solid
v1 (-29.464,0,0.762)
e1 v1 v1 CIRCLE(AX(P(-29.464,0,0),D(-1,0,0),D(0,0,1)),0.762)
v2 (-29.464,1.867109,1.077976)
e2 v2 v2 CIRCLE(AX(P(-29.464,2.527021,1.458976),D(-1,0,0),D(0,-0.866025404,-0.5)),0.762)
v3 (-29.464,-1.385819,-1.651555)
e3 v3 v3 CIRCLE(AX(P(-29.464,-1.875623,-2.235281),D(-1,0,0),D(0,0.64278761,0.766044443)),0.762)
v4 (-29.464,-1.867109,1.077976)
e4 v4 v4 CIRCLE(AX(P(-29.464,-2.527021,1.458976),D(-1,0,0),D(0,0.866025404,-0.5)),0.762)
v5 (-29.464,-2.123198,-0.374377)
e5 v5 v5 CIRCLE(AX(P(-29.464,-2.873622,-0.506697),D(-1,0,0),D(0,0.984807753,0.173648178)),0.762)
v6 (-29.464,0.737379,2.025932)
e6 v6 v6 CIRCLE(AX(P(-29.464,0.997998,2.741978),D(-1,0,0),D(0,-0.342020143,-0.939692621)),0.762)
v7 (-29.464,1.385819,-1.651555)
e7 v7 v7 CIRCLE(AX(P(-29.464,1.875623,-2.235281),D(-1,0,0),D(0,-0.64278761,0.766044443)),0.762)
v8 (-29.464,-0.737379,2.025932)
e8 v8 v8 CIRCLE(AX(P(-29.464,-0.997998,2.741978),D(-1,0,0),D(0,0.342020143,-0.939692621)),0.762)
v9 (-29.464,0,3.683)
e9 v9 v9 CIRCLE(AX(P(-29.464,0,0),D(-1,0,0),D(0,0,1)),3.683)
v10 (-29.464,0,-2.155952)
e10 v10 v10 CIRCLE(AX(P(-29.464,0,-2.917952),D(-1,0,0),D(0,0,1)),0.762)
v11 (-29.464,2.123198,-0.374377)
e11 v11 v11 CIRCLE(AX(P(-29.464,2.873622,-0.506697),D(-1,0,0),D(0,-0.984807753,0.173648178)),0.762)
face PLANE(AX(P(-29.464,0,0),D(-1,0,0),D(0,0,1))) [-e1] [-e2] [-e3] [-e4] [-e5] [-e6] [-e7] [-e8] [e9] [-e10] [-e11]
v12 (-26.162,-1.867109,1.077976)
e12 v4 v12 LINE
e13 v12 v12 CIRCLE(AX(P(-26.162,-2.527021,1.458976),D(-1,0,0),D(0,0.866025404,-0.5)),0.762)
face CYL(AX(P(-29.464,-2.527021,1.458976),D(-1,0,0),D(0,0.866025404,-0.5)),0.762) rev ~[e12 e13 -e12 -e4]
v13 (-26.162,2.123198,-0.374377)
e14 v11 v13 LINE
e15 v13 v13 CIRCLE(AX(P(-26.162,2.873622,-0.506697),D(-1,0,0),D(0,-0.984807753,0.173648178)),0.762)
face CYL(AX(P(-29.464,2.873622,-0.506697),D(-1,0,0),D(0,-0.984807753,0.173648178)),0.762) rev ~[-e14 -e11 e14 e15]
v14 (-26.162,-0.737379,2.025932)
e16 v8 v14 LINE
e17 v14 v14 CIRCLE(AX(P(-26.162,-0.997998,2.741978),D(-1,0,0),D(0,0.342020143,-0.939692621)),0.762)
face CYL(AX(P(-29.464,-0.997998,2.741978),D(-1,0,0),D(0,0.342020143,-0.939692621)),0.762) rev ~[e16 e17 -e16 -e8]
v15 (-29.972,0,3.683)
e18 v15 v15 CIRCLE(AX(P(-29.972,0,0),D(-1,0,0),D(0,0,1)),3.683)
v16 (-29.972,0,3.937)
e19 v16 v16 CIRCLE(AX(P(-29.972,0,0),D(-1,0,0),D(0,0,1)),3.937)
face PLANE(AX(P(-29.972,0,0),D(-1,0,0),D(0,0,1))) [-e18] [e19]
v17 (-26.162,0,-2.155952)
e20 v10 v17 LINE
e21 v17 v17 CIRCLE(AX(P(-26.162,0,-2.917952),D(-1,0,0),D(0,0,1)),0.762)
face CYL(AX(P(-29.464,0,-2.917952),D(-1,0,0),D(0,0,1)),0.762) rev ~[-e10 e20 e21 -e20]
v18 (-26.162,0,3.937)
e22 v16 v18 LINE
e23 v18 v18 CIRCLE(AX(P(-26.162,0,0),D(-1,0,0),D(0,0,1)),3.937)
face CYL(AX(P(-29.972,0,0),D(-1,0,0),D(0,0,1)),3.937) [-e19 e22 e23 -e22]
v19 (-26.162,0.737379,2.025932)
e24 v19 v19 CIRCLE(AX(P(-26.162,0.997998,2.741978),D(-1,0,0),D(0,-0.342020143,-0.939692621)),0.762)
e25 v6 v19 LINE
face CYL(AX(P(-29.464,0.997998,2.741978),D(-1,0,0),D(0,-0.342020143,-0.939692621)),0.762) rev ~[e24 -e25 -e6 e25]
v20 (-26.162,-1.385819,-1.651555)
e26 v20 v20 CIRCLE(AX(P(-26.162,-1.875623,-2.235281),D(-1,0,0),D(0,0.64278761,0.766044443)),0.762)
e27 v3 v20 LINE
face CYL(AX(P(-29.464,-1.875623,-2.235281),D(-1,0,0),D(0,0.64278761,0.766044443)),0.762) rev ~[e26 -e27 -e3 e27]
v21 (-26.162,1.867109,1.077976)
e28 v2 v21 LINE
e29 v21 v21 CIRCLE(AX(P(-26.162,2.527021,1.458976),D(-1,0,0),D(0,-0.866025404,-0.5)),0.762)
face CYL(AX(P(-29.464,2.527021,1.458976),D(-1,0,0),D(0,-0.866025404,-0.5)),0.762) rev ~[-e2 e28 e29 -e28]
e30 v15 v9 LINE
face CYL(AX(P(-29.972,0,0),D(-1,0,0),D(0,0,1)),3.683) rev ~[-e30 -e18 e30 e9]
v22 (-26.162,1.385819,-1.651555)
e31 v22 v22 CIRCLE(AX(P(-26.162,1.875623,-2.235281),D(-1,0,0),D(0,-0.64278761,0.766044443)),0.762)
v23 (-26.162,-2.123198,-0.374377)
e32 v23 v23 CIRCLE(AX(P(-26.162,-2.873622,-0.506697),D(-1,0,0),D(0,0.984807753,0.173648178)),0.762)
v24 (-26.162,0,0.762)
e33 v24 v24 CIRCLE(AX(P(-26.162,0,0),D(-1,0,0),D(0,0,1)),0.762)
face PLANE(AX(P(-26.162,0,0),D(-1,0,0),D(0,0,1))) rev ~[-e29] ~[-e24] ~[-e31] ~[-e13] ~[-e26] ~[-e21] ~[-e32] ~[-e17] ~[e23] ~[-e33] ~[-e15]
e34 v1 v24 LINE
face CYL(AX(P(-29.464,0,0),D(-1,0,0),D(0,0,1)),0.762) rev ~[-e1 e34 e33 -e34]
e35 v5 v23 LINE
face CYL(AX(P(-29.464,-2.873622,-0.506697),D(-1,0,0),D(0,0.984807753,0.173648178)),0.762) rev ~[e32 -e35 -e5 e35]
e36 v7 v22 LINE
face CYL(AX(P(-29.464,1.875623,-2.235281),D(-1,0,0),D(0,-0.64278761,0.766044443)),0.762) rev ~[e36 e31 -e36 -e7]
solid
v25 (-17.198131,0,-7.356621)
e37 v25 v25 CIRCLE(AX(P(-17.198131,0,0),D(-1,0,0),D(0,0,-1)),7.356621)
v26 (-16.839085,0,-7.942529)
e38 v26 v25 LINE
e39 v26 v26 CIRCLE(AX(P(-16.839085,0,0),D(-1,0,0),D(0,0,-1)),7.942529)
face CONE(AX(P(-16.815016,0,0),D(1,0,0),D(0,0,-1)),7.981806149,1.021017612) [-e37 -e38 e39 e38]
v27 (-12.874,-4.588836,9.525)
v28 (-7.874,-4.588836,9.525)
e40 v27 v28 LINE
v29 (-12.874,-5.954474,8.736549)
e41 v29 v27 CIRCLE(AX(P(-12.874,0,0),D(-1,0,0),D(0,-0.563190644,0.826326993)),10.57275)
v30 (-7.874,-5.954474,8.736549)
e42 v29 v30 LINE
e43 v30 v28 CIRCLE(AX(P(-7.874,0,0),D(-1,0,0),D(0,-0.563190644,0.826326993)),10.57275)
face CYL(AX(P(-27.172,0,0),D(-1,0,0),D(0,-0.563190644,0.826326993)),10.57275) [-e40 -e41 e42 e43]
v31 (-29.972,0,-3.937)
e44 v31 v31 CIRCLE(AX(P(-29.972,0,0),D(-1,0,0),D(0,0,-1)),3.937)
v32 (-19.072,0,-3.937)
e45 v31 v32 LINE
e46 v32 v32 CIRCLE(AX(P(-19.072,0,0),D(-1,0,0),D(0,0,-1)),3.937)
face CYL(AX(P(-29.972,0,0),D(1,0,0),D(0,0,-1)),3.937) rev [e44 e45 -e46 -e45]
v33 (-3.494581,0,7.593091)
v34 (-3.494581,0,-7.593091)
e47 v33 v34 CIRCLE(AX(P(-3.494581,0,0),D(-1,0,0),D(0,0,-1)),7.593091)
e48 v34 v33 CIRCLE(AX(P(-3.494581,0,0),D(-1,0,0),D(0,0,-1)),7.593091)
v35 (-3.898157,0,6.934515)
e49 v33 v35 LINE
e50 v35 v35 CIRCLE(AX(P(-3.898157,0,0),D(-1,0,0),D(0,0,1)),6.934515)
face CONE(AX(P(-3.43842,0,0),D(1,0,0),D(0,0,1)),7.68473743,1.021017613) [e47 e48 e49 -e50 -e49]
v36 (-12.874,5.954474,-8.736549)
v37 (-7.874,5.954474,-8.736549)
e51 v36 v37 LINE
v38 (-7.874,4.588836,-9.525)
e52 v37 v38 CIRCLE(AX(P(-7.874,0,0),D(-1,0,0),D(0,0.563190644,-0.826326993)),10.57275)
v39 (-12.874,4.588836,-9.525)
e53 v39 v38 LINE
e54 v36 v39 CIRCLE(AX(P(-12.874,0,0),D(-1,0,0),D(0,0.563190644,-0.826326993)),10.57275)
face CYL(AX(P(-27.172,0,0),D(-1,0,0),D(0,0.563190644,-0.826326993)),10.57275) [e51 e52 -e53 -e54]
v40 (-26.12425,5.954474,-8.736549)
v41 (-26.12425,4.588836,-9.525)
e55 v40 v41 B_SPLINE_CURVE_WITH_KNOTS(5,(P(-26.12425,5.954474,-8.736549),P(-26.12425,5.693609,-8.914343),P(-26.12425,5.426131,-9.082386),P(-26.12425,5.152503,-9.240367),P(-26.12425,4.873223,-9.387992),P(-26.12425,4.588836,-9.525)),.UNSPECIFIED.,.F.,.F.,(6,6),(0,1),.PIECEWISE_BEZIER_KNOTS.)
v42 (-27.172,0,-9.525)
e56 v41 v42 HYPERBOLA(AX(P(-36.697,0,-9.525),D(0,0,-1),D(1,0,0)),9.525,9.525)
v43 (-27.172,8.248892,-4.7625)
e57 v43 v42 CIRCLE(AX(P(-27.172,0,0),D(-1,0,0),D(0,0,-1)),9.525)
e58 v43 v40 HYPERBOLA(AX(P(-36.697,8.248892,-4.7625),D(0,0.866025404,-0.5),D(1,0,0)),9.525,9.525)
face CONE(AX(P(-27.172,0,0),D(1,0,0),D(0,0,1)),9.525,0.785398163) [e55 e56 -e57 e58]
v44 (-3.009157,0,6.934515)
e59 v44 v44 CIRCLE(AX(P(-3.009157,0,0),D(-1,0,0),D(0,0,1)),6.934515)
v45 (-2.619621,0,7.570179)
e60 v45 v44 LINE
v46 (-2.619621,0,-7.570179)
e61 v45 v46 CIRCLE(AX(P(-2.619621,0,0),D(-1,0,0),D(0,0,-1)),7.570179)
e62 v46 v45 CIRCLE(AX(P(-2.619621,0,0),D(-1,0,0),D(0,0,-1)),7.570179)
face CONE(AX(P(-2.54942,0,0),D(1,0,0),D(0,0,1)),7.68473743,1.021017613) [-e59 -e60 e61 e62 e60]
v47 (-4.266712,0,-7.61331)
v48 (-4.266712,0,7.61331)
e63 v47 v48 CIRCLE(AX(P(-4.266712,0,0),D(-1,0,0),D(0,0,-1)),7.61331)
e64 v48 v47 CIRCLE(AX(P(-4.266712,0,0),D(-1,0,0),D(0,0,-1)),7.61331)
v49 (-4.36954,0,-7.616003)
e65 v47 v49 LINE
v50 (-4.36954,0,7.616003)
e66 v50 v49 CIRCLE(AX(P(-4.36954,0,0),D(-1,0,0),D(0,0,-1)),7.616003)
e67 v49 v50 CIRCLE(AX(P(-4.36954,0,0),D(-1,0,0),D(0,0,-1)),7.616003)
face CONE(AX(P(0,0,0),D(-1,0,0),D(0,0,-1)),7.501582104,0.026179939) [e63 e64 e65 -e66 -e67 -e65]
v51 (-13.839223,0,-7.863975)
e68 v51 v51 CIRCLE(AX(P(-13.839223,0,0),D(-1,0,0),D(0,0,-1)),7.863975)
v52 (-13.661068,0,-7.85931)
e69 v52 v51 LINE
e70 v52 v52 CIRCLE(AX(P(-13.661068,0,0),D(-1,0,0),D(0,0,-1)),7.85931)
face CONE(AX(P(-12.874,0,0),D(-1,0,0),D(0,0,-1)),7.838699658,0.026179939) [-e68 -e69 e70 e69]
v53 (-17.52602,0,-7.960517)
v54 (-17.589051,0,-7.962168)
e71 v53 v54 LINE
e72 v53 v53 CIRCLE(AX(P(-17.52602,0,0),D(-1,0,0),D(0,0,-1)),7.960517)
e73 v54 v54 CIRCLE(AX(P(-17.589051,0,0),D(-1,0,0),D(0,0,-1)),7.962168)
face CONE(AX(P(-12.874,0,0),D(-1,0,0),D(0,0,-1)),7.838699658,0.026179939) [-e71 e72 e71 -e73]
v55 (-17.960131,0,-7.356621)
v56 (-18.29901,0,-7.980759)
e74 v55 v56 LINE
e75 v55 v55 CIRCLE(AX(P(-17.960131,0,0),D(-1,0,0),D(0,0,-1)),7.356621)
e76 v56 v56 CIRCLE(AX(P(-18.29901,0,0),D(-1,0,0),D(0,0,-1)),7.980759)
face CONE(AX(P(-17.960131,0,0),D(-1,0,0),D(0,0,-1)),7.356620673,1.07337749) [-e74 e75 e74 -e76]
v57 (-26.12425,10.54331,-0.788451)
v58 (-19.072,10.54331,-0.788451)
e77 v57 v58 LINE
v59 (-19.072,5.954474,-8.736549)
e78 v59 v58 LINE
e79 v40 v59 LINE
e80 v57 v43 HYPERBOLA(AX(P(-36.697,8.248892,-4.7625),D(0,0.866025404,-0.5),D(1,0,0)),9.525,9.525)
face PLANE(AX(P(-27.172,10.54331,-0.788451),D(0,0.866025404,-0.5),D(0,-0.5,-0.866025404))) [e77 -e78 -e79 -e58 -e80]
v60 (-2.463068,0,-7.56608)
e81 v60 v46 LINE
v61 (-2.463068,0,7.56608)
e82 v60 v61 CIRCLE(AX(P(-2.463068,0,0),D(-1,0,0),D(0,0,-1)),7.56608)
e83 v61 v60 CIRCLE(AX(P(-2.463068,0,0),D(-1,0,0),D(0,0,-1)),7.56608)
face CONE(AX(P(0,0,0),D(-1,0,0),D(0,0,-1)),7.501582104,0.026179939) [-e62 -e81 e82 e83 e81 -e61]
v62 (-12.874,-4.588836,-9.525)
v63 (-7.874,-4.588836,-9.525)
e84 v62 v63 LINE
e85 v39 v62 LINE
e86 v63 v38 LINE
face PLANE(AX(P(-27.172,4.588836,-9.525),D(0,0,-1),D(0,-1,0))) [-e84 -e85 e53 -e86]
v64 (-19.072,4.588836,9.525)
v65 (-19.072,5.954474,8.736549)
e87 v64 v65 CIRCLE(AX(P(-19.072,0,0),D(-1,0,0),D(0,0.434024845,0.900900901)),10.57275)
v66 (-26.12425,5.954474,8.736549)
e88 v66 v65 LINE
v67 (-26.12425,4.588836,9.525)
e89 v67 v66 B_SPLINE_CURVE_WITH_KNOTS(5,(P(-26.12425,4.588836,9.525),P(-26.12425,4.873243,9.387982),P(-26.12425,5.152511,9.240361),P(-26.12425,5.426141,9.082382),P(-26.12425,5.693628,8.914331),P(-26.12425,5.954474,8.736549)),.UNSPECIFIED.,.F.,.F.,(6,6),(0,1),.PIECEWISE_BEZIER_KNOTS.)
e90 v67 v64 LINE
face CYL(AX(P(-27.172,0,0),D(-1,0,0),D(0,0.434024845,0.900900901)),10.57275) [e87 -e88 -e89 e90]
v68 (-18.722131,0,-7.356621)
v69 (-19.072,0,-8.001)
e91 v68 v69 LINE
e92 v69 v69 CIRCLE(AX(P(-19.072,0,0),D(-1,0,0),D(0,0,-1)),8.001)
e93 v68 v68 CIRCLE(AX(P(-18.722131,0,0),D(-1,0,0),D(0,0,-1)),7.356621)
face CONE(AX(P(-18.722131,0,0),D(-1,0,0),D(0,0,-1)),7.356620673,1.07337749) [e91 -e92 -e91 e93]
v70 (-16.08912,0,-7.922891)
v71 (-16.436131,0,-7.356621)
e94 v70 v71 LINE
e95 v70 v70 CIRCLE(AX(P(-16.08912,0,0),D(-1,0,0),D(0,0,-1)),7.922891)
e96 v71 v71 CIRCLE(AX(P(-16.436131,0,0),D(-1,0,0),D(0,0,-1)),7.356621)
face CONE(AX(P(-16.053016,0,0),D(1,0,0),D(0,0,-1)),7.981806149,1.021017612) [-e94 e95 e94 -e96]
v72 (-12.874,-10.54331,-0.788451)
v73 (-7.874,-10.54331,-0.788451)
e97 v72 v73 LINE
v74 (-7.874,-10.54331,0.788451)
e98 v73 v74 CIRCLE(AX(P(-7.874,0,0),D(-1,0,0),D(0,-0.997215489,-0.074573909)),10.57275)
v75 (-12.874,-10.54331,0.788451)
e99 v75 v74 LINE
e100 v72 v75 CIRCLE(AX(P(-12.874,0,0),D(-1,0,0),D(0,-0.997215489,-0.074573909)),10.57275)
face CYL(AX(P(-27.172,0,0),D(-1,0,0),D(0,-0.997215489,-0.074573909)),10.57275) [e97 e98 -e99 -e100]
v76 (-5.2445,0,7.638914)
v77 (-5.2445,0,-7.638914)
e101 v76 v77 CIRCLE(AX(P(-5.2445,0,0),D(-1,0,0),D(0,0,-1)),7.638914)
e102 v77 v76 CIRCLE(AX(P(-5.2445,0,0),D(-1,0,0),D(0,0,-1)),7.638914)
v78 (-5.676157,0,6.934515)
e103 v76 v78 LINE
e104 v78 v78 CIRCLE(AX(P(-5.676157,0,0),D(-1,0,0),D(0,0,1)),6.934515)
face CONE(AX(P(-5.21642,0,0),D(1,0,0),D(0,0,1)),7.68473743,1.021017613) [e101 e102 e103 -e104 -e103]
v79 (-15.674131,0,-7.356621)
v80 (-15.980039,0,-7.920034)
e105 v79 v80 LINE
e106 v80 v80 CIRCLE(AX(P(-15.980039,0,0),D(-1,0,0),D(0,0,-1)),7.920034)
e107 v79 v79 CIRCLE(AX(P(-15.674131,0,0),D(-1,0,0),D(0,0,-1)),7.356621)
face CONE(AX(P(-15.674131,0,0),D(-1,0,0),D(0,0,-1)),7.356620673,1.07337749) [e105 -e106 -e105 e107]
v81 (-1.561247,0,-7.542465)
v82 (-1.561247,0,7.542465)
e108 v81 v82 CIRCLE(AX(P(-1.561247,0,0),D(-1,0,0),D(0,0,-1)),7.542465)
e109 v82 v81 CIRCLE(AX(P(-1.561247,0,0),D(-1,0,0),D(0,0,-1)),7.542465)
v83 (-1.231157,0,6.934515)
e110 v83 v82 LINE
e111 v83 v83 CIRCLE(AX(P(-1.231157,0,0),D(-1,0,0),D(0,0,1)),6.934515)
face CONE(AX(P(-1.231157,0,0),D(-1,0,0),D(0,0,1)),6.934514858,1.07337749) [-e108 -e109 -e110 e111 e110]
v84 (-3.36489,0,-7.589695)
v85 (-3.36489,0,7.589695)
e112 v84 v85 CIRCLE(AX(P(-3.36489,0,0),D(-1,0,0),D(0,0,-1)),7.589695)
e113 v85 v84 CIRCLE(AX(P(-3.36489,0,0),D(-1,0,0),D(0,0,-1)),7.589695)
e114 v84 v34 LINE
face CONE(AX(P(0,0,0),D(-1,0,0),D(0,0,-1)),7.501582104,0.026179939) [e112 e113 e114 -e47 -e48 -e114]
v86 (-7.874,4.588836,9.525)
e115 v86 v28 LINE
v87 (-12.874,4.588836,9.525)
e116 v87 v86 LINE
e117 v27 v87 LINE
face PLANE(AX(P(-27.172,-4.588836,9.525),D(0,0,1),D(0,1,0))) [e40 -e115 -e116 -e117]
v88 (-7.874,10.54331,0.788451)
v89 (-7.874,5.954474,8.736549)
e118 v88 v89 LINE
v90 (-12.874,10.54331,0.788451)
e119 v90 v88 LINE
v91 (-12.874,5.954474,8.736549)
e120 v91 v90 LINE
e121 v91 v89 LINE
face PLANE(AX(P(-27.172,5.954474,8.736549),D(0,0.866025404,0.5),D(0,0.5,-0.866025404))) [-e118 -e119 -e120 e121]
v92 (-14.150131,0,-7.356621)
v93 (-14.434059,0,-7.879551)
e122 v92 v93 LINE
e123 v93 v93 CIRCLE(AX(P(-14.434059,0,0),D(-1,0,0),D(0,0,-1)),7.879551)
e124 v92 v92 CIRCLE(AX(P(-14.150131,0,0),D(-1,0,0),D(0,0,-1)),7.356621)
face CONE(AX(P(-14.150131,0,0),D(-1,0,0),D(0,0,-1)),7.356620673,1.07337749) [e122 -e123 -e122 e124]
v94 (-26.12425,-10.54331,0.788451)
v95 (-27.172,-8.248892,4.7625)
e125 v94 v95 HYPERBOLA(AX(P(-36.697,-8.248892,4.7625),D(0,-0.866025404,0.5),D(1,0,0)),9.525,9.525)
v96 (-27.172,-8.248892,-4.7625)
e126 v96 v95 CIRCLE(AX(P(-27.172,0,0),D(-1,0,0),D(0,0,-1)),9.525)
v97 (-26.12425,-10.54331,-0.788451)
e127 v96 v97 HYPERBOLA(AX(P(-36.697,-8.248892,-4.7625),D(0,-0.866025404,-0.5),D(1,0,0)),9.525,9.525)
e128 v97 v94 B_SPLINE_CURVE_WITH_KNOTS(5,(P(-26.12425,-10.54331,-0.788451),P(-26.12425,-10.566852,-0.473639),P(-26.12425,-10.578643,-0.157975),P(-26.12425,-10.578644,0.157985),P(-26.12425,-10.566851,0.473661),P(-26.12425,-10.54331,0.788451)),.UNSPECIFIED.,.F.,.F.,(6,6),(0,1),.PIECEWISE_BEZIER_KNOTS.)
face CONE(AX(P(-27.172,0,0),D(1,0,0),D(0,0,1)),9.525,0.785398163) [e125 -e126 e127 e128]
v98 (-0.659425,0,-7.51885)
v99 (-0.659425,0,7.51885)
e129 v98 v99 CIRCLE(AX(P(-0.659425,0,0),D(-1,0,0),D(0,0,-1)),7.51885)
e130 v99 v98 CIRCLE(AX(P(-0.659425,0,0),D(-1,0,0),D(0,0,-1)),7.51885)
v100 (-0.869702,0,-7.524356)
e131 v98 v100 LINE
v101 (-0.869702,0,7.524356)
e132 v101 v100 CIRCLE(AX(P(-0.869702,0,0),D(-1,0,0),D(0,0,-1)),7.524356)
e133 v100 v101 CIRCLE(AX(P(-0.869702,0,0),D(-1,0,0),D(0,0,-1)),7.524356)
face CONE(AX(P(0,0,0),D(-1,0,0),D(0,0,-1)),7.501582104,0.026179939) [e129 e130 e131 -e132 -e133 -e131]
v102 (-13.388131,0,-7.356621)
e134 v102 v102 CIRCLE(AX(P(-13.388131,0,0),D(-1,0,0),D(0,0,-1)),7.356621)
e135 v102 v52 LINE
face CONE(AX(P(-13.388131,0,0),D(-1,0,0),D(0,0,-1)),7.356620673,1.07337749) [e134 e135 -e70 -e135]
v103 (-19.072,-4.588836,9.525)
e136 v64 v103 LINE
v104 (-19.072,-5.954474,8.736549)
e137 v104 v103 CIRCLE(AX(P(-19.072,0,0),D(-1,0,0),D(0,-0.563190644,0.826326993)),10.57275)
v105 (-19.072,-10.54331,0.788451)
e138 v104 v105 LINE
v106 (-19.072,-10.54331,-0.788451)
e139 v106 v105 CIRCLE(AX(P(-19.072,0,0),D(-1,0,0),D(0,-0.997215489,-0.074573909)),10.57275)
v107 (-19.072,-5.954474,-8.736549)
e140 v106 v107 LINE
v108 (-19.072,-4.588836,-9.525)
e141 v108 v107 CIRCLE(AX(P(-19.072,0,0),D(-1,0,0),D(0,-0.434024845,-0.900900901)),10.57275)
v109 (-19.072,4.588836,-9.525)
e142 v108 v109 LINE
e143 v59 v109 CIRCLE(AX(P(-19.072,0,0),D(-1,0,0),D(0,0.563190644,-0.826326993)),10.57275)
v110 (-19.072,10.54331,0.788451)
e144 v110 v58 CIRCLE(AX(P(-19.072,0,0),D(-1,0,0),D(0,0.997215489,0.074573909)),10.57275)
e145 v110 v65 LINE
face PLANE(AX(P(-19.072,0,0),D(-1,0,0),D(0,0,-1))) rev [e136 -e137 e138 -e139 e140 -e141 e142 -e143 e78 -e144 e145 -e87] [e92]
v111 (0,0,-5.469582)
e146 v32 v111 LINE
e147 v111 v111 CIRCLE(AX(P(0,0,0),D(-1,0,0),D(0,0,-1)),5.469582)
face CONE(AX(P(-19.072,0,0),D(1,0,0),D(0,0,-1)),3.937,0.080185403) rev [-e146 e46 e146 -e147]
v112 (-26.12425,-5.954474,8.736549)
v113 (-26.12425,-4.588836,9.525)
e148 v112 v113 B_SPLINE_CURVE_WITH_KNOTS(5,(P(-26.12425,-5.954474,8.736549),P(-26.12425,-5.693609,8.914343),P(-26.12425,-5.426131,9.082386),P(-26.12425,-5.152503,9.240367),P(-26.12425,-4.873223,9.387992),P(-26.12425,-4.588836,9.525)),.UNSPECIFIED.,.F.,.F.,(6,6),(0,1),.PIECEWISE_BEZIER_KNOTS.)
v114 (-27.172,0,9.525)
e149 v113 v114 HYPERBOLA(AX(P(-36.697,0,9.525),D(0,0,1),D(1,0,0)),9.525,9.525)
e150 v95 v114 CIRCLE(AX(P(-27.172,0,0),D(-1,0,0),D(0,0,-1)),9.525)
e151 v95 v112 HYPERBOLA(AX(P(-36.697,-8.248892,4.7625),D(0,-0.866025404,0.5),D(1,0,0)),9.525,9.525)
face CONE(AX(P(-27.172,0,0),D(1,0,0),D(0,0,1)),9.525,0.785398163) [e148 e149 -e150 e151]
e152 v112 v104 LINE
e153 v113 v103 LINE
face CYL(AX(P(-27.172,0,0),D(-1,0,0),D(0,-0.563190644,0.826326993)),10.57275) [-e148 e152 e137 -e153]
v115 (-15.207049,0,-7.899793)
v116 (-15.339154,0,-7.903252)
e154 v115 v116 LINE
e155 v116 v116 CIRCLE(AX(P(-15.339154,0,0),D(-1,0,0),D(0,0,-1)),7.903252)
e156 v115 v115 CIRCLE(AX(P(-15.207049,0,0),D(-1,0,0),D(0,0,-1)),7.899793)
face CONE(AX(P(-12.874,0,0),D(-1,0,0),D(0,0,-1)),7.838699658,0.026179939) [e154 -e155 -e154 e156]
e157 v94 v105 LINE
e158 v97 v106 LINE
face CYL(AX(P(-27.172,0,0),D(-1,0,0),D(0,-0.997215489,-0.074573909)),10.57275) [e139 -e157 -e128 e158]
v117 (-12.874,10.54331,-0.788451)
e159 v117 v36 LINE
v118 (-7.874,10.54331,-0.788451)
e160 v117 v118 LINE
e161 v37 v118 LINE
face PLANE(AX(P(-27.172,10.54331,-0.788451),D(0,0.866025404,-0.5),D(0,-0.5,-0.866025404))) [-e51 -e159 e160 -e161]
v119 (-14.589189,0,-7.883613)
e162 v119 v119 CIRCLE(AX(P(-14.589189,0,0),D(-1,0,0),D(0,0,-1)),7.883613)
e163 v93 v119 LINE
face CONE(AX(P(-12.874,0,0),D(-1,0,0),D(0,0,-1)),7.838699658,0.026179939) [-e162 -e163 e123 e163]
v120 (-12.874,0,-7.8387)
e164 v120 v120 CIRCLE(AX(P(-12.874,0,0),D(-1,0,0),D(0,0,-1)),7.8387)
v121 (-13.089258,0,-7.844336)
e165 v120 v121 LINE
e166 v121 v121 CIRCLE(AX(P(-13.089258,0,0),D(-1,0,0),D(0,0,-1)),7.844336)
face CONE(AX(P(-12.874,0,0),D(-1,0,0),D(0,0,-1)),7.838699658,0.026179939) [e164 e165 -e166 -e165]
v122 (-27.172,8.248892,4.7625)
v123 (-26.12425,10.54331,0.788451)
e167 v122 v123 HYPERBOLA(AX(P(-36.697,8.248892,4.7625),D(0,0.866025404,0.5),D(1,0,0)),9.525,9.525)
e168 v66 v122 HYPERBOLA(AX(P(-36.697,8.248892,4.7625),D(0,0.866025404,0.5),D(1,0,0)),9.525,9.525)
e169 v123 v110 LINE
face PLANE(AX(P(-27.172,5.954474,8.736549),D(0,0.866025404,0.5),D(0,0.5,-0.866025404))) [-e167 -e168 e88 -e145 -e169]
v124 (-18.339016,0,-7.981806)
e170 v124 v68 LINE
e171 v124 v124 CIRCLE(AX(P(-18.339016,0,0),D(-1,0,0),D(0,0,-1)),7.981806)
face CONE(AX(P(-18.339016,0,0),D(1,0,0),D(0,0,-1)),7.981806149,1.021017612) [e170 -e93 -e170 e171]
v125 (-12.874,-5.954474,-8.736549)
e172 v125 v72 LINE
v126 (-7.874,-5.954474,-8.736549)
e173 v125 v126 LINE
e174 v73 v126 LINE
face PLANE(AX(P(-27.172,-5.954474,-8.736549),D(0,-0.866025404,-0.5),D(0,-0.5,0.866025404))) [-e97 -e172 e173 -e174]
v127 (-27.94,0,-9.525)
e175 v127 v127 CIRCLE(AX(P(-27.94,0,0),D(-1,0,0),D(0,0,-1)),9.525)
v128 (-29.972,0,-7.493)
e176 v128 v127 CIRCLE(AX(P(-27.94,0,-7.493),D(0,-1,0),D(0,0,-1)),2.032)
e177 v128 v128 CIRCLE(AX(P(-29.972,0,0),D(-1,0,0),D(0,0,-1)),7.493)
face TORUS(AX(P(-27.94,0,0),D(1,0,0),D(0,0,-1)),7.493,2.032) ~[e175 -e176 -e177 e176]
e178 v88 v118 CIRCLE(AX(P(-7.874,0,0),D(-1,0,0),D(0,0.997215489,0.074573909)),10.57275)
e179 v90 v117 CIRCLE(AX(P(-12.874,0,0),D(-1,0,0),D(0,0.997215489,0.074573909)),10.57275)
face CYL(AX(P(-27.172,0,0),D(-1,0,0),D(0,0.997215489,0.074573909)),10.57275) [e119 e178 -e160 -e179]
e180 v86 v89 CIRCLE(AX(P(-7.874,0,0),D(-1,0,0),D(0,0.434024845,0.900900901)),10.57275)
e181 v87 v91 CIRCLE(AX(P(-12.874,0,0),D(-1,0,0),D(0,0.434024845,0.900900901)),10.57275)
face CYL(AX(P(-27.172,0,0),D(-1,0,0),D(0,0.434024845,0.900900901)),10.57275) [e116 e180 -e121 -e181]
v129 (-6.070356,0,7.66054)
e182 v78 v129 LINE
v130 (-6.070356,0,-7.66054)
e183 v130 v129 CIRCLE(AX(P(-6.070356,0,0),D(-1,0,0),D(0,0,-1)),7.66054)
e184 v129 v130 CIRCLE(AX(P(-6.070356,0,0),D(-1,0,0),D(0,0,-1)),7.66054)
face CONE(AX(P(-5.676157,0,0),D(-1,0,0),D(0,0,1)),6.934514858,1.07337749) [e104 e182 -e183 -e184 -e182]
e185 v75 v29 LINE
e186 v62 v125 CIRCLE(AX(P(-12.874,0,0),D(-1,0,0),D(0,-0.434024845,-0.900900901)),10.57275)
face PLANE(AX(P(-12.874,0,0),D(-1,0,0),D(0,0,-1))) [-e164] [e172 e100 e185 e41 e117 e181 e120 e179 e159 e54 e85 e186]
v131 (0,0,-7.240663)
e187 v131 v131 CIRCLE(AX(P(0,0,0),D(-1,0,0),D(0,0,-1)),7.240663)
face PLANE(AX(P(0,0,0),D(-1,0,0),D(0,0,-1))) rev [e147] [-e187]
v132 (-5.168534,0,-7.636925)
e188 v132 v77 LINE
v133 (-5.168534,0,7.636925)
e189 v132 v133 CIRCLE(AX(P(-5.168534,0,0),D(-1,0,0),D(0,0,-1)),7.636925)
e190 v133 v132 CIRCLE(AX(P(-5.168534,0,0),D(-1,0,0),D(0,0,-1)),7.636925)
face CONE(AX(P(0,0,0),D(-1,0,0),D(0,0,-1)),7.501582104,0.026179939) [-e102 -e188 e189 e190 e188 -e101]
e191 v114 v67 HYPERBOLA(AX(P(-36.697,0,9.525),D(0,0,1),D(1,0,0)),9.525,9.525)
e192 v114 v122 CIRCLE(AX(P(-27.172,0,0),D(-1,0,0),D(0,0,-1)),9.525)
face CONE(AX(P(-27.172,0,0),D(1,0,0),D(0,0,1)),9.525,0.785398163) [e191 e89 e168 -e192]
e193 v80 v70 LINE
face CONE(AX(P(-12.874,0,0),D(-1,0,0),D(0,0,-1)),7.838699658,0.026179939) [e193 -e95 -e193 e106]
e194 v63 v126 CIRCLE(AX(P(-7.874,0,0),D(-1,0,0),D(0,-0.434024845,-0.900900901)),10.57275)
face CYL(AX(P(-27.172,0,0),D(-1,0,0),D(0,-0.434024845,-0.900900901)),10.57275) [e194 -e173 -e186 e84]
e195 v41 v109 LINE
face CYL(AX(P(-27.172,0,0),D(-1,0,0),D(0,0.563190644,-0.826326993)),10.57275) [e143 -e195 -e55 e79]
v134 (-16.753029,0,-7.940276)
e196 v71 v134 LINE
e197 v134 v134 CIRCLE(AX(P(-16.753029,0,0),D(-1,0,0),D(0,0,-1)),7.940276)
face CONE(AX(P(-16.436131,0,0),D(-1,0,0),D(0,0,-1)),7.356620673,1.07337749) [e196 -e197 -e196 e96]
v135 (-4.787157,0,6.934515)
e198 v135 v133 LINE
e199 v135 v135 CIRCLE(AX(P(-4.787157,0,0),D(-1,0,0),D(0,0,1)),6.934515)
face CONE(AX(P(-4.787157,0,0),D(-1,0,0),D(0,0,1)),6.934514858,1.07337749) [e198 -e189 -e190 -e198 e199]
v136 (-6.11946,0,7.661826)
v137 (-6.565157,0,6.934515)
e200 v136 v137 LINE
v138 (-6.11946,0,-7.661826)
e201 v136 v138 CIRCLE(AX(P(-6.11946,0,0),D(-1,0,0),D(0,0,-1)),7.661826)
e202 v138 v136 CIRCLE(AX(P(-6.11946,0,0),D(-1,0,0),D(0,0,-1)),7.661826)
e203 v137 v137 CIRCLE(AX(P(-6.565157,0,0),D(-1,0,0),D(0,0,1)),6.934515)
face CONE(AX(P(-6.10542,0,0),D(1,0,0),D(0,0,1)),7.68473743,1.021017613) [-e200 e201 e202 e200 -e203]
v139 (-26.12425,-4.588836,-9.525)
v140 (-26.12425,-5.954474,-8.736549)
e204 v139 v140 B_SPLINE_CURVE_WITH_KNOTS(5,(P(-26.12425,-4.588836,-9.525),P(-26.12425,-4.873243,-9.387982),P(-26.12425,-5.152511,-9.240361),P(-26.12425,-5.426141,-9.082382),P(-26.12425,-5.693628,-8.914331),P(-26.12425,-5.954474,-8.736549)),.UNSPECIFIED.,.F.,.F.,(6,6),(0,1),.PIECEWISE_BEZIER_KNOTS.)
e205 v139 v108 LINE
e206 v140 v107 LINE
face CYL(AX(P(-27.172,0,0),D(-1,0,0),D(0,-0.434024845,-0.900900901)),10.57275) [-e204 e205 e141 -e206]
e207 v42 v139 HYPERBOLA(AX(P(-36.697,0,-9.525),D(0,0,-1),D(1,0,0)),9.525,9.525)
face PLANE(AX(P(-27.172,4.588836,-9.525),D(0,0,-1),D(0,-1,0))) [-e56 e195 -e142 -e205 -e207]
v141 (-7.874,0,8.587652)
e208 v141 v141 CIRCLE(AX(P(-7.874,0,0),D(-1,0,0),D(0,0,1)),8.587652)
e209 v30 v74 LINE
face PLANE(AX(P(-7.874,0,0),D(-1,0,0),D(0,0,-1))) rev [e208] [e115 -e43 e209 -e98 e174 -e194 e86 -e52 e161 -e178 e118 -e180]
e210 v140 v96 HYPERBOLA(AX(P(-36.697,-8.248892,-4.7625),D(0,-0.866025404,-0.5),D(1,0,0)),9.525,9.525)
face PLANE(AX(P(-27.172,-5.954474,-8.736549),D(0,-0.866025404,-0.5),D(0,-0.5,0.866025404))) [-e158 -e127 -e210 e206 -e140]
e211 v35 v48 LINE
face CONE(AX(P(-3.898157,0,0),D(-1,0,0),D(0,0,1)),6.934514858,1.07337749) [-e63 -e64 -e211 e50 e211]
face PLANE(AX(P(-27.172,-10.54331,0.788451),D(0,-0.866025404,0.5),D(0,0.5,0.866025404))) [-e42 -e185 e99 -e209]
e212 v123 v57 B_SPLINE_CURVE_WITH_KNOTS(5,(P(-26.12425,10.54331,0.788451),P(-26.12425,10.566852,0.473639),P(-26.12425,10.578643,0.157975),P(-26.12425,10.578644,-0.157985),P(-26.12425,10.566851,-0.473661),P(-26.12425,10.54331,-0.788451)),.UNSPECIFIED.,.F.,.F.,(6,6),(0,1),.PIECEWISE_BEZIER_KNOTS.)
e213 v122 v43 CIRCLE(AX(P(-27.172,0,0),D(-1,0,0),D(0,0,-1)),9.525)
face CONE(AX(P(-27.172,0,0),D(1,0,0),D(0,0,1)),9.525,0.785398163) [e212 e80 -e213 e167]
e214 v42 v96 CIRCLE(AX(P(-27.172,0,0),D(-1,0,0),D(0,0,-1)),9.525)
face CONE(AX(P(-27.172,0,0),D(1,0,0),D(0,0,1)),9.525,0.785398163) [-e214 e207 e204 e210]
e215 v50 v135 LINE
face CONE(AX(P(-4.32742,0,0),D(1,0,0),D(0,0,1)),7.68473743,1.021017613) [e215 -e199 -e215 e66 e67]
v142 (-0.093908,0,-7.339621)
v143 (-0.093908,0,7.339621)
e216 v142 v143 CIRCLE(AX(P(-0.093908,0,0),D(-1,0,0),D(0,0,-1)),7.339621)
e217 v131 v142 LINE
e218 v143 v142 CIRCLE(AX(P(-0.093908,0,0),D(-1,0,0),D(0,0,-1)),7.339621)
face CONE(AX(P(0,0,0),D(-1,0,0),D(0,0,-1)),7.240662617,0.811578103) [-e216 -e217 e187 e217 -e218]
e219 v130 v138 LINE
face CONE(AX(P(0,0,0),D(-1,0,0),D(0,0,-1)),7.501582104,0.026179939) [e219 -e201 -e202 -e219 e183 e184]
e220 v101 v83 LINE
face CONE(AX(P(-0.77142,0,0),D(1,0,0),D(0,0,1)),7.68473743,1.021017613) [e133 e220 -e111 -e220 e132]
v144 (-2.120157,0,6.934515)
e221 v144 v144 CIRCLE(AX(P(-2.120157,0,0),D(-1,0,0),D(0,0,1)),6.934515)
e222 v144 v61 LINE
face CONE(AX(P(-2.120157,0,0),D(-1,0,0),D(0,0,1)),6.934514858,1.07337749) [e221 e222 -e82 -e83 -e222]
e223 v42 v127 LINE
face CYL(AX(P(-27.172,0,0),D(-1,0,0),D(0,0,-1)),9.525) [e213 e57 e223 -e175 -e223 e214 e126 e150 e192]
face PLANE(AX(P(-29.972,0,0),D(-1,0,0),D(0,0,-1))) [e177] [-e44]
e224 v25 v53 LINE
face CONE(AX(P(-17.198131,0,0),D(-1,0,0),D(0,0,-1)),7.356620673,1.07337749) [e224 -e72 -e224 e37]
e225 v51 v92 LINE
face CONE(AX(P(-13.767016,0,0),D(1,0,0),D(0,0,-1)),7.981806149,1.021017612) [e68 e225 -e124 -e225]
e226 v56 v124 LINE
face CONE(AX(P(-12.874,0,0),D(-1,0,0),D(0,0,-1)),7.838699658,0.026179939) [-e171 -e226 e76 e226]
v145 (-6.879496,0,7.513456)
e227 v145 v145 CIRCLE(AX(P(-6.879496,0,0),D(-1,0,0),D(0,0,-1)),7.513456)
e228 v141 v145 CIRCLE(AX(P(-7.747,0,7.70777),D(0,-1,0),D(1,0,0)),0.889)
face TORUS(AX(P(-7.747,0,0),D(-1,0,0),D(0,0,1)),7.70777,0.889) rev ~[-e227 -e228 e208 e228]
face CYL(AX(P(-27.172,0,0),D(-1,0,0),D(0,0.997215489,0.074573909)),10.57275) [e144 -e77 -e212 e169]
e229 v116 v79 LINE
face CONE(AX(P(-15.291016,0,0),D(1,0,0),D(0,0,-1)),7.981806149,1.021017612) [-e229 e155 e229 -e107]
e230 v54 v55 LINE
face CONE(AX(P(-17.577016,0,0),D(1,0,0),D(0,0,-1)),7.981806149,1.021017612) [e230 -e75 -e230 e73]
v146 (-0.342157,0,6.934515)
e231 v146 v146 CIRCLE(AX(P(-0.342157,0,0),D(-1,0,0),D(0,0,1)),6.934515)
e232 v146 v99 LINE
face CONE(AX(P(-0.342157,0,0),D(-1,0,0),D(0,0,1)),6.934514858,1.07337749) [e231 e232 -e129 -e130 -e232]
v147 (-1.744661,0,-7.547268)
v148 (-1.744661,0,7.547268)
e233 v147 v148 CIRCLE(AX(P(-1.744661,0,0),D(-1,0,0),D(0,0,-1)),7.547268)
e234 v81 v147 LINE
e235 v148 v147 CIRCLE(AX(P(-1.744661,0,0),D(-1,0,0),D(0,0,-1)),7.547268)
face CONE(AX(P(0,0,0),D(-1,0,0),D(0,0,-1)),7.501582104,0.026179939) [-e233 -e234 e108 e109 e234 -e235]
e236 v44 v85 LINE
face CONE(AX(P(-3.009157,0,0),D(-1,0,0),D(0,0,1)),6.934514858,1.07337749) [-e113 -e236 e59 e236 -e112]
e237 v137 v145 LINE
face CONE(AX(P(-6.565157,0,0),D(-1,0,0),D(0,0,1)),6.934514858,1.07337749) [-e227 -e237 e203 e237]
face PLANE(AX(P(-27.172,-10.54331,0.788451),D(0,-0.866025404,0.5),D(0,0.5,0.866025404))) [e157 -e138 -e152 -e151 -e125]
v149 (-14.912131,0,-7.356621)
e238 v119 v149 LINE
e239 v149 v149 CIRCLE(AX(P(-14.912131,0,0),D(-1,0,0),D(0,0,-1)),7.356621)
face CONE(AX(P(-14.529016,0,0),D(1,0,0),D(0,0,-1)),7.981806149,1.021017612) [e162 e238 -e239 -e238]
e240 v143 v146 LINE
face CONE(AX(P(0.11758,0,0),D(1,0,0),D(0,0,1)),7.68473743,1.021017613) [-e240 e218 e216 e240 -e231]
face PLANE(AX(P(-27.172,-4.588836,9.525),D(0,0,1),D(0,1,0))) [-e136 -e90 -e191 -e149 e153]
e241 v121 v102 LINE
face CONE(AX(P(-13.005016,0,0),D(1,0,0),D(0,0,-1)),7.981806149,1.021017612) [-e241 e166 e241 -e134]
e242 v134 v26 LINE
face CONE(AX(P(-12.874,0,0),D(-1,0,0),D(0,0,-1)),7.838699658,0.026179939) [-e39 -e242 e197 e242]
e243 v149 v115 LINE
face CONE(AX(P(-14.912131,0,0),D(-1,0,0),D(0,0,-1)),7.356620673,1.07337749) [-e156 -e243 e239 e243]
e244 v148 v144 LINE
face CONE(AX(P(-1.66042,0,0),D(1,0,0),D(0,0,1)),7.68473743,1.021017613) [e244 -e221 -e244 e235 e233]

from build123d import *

# Parameters (mm, degrees)
SKETCH12_OUTSIDE_W = 52.432
SKETCH12_OUTSIDE_H = 52.432
CUT_EXTRUDE2_DEPTH = 28.172
FILLET4_R          = 2.032
SKETCH19_OUTSIDE_W = 33.316
SKETCH19_OUTSIDE_H = 35.412
SKETCH19_OUTSIDE_R = 9.525
CUT_EXTRUDE3_DEPTH = 1.999996
CUT_EXTRUDE3_DRAFT = -45
CHAMFER1_SIZE      = 0.260919487
CHAMFER1_SIZE2     = 0.254
SKETCH21_R         = 3.937
PLUG_DEPTH         = 3.81
SKETCH22_R         = 3.683
CUT_EXTRUDE4_DEPTH = 0.508
SKETCH27_R         = 0.762
PLUGHOLES_DEPTH    = 30.464
CIRPATTERN1_COUNT  = 9
SKETCH28_R         = 0.762
MIDHOLE_DEPTH      = 30.464
LPATTERN1_COUNT    = 8
LPATTERN1_PITCH    = 0.762
LPATTERN2_COUNT    = 9
LPATTERN2_PITCH    = 0.889
SKETCH32_R         = 0.889


with BuildPart() as part:
    # Sketch10 → Revolve2 (revolve)
    with BuildSketch(Plane.XY, mode=Mode.PRIVATE) as revolve2_sk:
        Polygon((-29.972, 3.937), (-19.072, 3.937), (0, 5.469582104), (0, 7.501582104), (-7.874, 7.70777005), (-7.874, 19.05), (-12.874, 19.05), (-12.874, 7.838699658), (-19.072, 8.001), (-19.072, 19.05), (-27.172, 19.05), (-27.172, 9.525), (-29.972, 9.525), align=None)
    revolve(revolve2_sk.sketch.rotate(Axis((0, 0, 0), (-1, 0, 0)), 90), axis=Axis((0, 0, 0), (-1, 0, 0)))  # turned: the seam where the file's is

    # Sketch12 outside → Cut-Extrude2 (cut, through all)
    with BuildSketch(Plane.ZY.offset(27.172)):
        Rectangle(SKETCH12_OUTSIDE_W, SKETCH12_OUTSIDE_H)
        with BuildLine():
            Line((-0.788451287, 10.543310065), (-8.736548713, 5.954473877))
            ThreePointArc((-8.736548713, 5.954473877), (-9.156270088, 5.286375), (-9.525, 4.588836188))
            Line((-9.525, 4.588836188), (-9.525, -4.588836188))
            ThreePointArc((-9.525, -4.588836188), (-9.156270088, -5.286375), (-8.736548713, -5.954473877))
            Line((-8.736548713, -5.954473877), (-0.788451287, -10.543310065))
            ThreePointArc((-0.788451287, -10.543310065), (0, -10.57275), (0.788451287, -10.543310065))
            Line((0.788451287, -10.543310065), (8.736548713, -5.954473877))
            ThreePointArc((8.736548713, -5.954473877), (9.156270088, -5.286375), (9.525, -4.588836188))
            Line((9.525, -4.588836188), (9.525, 4.588836188))
            ThreePointArc((9.525, 4.588836188), (9.156270088, 5.286375), (8.736548713, 5.954473877))
            Line((8.736548713, 5.954473877), (0.788451287, 10.543310065))
            ThreePointArc((0.788451287, 10.543310065), (0, 10.57275), (-0.788451287, 10.543310065))
        make_face(mode=Mode.SUBTRACT)
    extrude(amount=-CUT_EXTRUDE2_DEPTH, mode=Mode.SUBTRACT)

    # Fillet4
    fillet4_edges = [part.edges().sort_by_distance(p)[0] for p in [
        (-29.972, 0, 9.525),
    ]]
    fillet(fillet4_edges, radius=FILLET4_R)


with BuildPart() as cut_extrude3_tool:
    # Sketch19 outside → Cut-Extrude3 (with draft: the straight prism first)
    with BuildSketch(Plane.ZY.offset(27.172)):
        Rectangle(SKETCH19_OUTSIDE_W, SKETCH19_OUTSIDE_H)
        Circle(SKETCH19_OUTSIDE_R, mode=Mode.SUBTRACT)
    extrude(amount=-CUT_EXTRUDE3_DEPTH)
    # Cut-Extrude3: the draft: its side faces are tilted about the plane it starts from
    cut_extrude3_sides = [cut_extrude3_tool.faces().sort_by_distance(p)[0] for p in [
        (-26.172002, -17.706, 0),
        (-26.172002, 0, 16.658),
        (-26.172002, 17.706, 0),
        (-26.172002, 0, -16.658),
        (-26.172002, 0, -9.525),
    ]]
    draft(cut_extrude3_sides, Plane.ZY.offset(27.172), CUT_EXTRUDE3_DRAFT)


with BuildPart() as part_1:
    add(part.part)

    # Cut-Extrude3: cut by cut_extrude3_tool
    add(cut_extrude3_tool.part, mode=Mode.SUBTRACT)

    # Chamfer1
    chamfer1_edges = [part_1.edges().sort_by_distance(p)[0] for p in [
        (0, 0, 7.501582104),
    ]]
    chamfer1_side = [part_1.faces().sort_by_distance(p)[0] for p in [
        (0, 0, 5.681758887),
    ]]
    chamfer(chamfer1_edges, length=CHAMFER1_SIZE, length2=CHAMFER1_SIZE2, reference=chamfer1_side[0])

    # Sketch29 → Cut-Revolve1 (revolve, cut)
    with BuildSketch(Plane.XY, mode=Mode.PRIVATE) as cut_revolve1_sk:
        Polygon((-19.072, 8.001), (-18.339016419, 7.981806149), (-18.722130572, 7.356620673), align=None)
    cut_revolve1 = revolve(cut_revolve1_sk.sketch.rotate(Axis((0, 0, 0), (-1, 0, 0)), 90), axis=Axis((0, 0, 0), (-1, 0, 0)), mode=Mode.SUBTRACT)  # turned: the seam where the file's is

    # LPattern1: Cut-Revolve1 ×8
    with Locations(*[(i * LPATTERN1_PITCH, 0, 0) for i in range(1, LPATTERN1_COUNT)]):
        add(cut_revolve1, mode=Mode.SUBTRACT)

    # Sketch30 → Cut-Revolve2 (revolve, cut)
    with BuildSketch(Plane.XY, mode=Mode.PRIVATE) as cut_revolve2_sk:
        Polygon((-7.874, 7.70777005), (-6.994419703, 7.68473743), (-7.454156686, 6.934514858), align=None)
    cut_revolve2 = revolve(cut_revolve2_sk.sketch.rotate(Axis((0, 0, 0), (-1, 0, 0)), 270), axis=Axis((0, 0, 0), (-1, 0, 0)), mode=Mode.SUBTRACT)  # turned: the seam where the file's is

    # LPattern2: Cut-Revolve2 ×9
    with Locations(*[(i * LPATTERN2_PITCH, 0, 0) for i in range(1, LPATTERN2_COUNT)]):
        add(cut_revolve2, mode=Mode.SUBTRACT)

    # Sketch32 → Cut-Revolve3 (revolve, cut)
    with BuildSketch(Plane.XY, mode=Mode.PRIVATE) as cut_revolve3_sk:
        with Locations((-7.747, 7.70777005)):
            Circle(SKETCH32_R)
    revolve(cut_revolve3_sk.sketch.rotate(Axis((0, 0, 0), (-1, 0, 0)), 270), axis=Axis((0, 0, 0), (-1, 0, 0)), mode=Mode.SUBTRACT)  # turned: the seam where the file's is


with BuildPart() as body_2:
    # Sketch21 → plug (new body)
    with BuildSketch(Plane.ZY.offset(29.972)):
        Circle(SKETCH21_R)
    extrude(amount=-PLUG_DEPTH)

    # Sketch22 → Cut-Extrude4 (cut)
    with BuildSketch(Plane.ZY.offset(29.972)):
        Circle(SKETCH22_R)
    extrude(amount=-CUT_EXTRUDE4_DEPTH, mode=Mode.SUBTRACT)

    # Sketch27 → plugholes (cut, through all)
    with BuildSketch(Plane.ZY.offset(29.464)):
        with Locations((-2.917952, 0)):
            Circle(SKETCH27_R)
    plugholes = extrude(amount=-PLUGHOLES_DEPTH, mode=Mode.SUBTRACT)

    # CirPattern1: plugholes ×9 about axis
    cirpattern1_axis = Axis((0, 0, 0), (1, 0, 0))
    for i in range(1, CIRPATTERN1_COUNT):
        add(plugholes.rotate(cirpattern1_axis, i * 360 / CIRPATTERN1_COUNT), mode=Mode.SUBTRACT)

    # Sketch28 → midhole (cut, through all)
    with BuildSketch(Plane.ZY.offset(29.464)):
        Circle(SKETCH28_R)
    extrude(amount=-MIDHOLE_DEPTH, mode=Mode.SUBTRACT)


solid = Compound([part_1.part, body_2.part])
